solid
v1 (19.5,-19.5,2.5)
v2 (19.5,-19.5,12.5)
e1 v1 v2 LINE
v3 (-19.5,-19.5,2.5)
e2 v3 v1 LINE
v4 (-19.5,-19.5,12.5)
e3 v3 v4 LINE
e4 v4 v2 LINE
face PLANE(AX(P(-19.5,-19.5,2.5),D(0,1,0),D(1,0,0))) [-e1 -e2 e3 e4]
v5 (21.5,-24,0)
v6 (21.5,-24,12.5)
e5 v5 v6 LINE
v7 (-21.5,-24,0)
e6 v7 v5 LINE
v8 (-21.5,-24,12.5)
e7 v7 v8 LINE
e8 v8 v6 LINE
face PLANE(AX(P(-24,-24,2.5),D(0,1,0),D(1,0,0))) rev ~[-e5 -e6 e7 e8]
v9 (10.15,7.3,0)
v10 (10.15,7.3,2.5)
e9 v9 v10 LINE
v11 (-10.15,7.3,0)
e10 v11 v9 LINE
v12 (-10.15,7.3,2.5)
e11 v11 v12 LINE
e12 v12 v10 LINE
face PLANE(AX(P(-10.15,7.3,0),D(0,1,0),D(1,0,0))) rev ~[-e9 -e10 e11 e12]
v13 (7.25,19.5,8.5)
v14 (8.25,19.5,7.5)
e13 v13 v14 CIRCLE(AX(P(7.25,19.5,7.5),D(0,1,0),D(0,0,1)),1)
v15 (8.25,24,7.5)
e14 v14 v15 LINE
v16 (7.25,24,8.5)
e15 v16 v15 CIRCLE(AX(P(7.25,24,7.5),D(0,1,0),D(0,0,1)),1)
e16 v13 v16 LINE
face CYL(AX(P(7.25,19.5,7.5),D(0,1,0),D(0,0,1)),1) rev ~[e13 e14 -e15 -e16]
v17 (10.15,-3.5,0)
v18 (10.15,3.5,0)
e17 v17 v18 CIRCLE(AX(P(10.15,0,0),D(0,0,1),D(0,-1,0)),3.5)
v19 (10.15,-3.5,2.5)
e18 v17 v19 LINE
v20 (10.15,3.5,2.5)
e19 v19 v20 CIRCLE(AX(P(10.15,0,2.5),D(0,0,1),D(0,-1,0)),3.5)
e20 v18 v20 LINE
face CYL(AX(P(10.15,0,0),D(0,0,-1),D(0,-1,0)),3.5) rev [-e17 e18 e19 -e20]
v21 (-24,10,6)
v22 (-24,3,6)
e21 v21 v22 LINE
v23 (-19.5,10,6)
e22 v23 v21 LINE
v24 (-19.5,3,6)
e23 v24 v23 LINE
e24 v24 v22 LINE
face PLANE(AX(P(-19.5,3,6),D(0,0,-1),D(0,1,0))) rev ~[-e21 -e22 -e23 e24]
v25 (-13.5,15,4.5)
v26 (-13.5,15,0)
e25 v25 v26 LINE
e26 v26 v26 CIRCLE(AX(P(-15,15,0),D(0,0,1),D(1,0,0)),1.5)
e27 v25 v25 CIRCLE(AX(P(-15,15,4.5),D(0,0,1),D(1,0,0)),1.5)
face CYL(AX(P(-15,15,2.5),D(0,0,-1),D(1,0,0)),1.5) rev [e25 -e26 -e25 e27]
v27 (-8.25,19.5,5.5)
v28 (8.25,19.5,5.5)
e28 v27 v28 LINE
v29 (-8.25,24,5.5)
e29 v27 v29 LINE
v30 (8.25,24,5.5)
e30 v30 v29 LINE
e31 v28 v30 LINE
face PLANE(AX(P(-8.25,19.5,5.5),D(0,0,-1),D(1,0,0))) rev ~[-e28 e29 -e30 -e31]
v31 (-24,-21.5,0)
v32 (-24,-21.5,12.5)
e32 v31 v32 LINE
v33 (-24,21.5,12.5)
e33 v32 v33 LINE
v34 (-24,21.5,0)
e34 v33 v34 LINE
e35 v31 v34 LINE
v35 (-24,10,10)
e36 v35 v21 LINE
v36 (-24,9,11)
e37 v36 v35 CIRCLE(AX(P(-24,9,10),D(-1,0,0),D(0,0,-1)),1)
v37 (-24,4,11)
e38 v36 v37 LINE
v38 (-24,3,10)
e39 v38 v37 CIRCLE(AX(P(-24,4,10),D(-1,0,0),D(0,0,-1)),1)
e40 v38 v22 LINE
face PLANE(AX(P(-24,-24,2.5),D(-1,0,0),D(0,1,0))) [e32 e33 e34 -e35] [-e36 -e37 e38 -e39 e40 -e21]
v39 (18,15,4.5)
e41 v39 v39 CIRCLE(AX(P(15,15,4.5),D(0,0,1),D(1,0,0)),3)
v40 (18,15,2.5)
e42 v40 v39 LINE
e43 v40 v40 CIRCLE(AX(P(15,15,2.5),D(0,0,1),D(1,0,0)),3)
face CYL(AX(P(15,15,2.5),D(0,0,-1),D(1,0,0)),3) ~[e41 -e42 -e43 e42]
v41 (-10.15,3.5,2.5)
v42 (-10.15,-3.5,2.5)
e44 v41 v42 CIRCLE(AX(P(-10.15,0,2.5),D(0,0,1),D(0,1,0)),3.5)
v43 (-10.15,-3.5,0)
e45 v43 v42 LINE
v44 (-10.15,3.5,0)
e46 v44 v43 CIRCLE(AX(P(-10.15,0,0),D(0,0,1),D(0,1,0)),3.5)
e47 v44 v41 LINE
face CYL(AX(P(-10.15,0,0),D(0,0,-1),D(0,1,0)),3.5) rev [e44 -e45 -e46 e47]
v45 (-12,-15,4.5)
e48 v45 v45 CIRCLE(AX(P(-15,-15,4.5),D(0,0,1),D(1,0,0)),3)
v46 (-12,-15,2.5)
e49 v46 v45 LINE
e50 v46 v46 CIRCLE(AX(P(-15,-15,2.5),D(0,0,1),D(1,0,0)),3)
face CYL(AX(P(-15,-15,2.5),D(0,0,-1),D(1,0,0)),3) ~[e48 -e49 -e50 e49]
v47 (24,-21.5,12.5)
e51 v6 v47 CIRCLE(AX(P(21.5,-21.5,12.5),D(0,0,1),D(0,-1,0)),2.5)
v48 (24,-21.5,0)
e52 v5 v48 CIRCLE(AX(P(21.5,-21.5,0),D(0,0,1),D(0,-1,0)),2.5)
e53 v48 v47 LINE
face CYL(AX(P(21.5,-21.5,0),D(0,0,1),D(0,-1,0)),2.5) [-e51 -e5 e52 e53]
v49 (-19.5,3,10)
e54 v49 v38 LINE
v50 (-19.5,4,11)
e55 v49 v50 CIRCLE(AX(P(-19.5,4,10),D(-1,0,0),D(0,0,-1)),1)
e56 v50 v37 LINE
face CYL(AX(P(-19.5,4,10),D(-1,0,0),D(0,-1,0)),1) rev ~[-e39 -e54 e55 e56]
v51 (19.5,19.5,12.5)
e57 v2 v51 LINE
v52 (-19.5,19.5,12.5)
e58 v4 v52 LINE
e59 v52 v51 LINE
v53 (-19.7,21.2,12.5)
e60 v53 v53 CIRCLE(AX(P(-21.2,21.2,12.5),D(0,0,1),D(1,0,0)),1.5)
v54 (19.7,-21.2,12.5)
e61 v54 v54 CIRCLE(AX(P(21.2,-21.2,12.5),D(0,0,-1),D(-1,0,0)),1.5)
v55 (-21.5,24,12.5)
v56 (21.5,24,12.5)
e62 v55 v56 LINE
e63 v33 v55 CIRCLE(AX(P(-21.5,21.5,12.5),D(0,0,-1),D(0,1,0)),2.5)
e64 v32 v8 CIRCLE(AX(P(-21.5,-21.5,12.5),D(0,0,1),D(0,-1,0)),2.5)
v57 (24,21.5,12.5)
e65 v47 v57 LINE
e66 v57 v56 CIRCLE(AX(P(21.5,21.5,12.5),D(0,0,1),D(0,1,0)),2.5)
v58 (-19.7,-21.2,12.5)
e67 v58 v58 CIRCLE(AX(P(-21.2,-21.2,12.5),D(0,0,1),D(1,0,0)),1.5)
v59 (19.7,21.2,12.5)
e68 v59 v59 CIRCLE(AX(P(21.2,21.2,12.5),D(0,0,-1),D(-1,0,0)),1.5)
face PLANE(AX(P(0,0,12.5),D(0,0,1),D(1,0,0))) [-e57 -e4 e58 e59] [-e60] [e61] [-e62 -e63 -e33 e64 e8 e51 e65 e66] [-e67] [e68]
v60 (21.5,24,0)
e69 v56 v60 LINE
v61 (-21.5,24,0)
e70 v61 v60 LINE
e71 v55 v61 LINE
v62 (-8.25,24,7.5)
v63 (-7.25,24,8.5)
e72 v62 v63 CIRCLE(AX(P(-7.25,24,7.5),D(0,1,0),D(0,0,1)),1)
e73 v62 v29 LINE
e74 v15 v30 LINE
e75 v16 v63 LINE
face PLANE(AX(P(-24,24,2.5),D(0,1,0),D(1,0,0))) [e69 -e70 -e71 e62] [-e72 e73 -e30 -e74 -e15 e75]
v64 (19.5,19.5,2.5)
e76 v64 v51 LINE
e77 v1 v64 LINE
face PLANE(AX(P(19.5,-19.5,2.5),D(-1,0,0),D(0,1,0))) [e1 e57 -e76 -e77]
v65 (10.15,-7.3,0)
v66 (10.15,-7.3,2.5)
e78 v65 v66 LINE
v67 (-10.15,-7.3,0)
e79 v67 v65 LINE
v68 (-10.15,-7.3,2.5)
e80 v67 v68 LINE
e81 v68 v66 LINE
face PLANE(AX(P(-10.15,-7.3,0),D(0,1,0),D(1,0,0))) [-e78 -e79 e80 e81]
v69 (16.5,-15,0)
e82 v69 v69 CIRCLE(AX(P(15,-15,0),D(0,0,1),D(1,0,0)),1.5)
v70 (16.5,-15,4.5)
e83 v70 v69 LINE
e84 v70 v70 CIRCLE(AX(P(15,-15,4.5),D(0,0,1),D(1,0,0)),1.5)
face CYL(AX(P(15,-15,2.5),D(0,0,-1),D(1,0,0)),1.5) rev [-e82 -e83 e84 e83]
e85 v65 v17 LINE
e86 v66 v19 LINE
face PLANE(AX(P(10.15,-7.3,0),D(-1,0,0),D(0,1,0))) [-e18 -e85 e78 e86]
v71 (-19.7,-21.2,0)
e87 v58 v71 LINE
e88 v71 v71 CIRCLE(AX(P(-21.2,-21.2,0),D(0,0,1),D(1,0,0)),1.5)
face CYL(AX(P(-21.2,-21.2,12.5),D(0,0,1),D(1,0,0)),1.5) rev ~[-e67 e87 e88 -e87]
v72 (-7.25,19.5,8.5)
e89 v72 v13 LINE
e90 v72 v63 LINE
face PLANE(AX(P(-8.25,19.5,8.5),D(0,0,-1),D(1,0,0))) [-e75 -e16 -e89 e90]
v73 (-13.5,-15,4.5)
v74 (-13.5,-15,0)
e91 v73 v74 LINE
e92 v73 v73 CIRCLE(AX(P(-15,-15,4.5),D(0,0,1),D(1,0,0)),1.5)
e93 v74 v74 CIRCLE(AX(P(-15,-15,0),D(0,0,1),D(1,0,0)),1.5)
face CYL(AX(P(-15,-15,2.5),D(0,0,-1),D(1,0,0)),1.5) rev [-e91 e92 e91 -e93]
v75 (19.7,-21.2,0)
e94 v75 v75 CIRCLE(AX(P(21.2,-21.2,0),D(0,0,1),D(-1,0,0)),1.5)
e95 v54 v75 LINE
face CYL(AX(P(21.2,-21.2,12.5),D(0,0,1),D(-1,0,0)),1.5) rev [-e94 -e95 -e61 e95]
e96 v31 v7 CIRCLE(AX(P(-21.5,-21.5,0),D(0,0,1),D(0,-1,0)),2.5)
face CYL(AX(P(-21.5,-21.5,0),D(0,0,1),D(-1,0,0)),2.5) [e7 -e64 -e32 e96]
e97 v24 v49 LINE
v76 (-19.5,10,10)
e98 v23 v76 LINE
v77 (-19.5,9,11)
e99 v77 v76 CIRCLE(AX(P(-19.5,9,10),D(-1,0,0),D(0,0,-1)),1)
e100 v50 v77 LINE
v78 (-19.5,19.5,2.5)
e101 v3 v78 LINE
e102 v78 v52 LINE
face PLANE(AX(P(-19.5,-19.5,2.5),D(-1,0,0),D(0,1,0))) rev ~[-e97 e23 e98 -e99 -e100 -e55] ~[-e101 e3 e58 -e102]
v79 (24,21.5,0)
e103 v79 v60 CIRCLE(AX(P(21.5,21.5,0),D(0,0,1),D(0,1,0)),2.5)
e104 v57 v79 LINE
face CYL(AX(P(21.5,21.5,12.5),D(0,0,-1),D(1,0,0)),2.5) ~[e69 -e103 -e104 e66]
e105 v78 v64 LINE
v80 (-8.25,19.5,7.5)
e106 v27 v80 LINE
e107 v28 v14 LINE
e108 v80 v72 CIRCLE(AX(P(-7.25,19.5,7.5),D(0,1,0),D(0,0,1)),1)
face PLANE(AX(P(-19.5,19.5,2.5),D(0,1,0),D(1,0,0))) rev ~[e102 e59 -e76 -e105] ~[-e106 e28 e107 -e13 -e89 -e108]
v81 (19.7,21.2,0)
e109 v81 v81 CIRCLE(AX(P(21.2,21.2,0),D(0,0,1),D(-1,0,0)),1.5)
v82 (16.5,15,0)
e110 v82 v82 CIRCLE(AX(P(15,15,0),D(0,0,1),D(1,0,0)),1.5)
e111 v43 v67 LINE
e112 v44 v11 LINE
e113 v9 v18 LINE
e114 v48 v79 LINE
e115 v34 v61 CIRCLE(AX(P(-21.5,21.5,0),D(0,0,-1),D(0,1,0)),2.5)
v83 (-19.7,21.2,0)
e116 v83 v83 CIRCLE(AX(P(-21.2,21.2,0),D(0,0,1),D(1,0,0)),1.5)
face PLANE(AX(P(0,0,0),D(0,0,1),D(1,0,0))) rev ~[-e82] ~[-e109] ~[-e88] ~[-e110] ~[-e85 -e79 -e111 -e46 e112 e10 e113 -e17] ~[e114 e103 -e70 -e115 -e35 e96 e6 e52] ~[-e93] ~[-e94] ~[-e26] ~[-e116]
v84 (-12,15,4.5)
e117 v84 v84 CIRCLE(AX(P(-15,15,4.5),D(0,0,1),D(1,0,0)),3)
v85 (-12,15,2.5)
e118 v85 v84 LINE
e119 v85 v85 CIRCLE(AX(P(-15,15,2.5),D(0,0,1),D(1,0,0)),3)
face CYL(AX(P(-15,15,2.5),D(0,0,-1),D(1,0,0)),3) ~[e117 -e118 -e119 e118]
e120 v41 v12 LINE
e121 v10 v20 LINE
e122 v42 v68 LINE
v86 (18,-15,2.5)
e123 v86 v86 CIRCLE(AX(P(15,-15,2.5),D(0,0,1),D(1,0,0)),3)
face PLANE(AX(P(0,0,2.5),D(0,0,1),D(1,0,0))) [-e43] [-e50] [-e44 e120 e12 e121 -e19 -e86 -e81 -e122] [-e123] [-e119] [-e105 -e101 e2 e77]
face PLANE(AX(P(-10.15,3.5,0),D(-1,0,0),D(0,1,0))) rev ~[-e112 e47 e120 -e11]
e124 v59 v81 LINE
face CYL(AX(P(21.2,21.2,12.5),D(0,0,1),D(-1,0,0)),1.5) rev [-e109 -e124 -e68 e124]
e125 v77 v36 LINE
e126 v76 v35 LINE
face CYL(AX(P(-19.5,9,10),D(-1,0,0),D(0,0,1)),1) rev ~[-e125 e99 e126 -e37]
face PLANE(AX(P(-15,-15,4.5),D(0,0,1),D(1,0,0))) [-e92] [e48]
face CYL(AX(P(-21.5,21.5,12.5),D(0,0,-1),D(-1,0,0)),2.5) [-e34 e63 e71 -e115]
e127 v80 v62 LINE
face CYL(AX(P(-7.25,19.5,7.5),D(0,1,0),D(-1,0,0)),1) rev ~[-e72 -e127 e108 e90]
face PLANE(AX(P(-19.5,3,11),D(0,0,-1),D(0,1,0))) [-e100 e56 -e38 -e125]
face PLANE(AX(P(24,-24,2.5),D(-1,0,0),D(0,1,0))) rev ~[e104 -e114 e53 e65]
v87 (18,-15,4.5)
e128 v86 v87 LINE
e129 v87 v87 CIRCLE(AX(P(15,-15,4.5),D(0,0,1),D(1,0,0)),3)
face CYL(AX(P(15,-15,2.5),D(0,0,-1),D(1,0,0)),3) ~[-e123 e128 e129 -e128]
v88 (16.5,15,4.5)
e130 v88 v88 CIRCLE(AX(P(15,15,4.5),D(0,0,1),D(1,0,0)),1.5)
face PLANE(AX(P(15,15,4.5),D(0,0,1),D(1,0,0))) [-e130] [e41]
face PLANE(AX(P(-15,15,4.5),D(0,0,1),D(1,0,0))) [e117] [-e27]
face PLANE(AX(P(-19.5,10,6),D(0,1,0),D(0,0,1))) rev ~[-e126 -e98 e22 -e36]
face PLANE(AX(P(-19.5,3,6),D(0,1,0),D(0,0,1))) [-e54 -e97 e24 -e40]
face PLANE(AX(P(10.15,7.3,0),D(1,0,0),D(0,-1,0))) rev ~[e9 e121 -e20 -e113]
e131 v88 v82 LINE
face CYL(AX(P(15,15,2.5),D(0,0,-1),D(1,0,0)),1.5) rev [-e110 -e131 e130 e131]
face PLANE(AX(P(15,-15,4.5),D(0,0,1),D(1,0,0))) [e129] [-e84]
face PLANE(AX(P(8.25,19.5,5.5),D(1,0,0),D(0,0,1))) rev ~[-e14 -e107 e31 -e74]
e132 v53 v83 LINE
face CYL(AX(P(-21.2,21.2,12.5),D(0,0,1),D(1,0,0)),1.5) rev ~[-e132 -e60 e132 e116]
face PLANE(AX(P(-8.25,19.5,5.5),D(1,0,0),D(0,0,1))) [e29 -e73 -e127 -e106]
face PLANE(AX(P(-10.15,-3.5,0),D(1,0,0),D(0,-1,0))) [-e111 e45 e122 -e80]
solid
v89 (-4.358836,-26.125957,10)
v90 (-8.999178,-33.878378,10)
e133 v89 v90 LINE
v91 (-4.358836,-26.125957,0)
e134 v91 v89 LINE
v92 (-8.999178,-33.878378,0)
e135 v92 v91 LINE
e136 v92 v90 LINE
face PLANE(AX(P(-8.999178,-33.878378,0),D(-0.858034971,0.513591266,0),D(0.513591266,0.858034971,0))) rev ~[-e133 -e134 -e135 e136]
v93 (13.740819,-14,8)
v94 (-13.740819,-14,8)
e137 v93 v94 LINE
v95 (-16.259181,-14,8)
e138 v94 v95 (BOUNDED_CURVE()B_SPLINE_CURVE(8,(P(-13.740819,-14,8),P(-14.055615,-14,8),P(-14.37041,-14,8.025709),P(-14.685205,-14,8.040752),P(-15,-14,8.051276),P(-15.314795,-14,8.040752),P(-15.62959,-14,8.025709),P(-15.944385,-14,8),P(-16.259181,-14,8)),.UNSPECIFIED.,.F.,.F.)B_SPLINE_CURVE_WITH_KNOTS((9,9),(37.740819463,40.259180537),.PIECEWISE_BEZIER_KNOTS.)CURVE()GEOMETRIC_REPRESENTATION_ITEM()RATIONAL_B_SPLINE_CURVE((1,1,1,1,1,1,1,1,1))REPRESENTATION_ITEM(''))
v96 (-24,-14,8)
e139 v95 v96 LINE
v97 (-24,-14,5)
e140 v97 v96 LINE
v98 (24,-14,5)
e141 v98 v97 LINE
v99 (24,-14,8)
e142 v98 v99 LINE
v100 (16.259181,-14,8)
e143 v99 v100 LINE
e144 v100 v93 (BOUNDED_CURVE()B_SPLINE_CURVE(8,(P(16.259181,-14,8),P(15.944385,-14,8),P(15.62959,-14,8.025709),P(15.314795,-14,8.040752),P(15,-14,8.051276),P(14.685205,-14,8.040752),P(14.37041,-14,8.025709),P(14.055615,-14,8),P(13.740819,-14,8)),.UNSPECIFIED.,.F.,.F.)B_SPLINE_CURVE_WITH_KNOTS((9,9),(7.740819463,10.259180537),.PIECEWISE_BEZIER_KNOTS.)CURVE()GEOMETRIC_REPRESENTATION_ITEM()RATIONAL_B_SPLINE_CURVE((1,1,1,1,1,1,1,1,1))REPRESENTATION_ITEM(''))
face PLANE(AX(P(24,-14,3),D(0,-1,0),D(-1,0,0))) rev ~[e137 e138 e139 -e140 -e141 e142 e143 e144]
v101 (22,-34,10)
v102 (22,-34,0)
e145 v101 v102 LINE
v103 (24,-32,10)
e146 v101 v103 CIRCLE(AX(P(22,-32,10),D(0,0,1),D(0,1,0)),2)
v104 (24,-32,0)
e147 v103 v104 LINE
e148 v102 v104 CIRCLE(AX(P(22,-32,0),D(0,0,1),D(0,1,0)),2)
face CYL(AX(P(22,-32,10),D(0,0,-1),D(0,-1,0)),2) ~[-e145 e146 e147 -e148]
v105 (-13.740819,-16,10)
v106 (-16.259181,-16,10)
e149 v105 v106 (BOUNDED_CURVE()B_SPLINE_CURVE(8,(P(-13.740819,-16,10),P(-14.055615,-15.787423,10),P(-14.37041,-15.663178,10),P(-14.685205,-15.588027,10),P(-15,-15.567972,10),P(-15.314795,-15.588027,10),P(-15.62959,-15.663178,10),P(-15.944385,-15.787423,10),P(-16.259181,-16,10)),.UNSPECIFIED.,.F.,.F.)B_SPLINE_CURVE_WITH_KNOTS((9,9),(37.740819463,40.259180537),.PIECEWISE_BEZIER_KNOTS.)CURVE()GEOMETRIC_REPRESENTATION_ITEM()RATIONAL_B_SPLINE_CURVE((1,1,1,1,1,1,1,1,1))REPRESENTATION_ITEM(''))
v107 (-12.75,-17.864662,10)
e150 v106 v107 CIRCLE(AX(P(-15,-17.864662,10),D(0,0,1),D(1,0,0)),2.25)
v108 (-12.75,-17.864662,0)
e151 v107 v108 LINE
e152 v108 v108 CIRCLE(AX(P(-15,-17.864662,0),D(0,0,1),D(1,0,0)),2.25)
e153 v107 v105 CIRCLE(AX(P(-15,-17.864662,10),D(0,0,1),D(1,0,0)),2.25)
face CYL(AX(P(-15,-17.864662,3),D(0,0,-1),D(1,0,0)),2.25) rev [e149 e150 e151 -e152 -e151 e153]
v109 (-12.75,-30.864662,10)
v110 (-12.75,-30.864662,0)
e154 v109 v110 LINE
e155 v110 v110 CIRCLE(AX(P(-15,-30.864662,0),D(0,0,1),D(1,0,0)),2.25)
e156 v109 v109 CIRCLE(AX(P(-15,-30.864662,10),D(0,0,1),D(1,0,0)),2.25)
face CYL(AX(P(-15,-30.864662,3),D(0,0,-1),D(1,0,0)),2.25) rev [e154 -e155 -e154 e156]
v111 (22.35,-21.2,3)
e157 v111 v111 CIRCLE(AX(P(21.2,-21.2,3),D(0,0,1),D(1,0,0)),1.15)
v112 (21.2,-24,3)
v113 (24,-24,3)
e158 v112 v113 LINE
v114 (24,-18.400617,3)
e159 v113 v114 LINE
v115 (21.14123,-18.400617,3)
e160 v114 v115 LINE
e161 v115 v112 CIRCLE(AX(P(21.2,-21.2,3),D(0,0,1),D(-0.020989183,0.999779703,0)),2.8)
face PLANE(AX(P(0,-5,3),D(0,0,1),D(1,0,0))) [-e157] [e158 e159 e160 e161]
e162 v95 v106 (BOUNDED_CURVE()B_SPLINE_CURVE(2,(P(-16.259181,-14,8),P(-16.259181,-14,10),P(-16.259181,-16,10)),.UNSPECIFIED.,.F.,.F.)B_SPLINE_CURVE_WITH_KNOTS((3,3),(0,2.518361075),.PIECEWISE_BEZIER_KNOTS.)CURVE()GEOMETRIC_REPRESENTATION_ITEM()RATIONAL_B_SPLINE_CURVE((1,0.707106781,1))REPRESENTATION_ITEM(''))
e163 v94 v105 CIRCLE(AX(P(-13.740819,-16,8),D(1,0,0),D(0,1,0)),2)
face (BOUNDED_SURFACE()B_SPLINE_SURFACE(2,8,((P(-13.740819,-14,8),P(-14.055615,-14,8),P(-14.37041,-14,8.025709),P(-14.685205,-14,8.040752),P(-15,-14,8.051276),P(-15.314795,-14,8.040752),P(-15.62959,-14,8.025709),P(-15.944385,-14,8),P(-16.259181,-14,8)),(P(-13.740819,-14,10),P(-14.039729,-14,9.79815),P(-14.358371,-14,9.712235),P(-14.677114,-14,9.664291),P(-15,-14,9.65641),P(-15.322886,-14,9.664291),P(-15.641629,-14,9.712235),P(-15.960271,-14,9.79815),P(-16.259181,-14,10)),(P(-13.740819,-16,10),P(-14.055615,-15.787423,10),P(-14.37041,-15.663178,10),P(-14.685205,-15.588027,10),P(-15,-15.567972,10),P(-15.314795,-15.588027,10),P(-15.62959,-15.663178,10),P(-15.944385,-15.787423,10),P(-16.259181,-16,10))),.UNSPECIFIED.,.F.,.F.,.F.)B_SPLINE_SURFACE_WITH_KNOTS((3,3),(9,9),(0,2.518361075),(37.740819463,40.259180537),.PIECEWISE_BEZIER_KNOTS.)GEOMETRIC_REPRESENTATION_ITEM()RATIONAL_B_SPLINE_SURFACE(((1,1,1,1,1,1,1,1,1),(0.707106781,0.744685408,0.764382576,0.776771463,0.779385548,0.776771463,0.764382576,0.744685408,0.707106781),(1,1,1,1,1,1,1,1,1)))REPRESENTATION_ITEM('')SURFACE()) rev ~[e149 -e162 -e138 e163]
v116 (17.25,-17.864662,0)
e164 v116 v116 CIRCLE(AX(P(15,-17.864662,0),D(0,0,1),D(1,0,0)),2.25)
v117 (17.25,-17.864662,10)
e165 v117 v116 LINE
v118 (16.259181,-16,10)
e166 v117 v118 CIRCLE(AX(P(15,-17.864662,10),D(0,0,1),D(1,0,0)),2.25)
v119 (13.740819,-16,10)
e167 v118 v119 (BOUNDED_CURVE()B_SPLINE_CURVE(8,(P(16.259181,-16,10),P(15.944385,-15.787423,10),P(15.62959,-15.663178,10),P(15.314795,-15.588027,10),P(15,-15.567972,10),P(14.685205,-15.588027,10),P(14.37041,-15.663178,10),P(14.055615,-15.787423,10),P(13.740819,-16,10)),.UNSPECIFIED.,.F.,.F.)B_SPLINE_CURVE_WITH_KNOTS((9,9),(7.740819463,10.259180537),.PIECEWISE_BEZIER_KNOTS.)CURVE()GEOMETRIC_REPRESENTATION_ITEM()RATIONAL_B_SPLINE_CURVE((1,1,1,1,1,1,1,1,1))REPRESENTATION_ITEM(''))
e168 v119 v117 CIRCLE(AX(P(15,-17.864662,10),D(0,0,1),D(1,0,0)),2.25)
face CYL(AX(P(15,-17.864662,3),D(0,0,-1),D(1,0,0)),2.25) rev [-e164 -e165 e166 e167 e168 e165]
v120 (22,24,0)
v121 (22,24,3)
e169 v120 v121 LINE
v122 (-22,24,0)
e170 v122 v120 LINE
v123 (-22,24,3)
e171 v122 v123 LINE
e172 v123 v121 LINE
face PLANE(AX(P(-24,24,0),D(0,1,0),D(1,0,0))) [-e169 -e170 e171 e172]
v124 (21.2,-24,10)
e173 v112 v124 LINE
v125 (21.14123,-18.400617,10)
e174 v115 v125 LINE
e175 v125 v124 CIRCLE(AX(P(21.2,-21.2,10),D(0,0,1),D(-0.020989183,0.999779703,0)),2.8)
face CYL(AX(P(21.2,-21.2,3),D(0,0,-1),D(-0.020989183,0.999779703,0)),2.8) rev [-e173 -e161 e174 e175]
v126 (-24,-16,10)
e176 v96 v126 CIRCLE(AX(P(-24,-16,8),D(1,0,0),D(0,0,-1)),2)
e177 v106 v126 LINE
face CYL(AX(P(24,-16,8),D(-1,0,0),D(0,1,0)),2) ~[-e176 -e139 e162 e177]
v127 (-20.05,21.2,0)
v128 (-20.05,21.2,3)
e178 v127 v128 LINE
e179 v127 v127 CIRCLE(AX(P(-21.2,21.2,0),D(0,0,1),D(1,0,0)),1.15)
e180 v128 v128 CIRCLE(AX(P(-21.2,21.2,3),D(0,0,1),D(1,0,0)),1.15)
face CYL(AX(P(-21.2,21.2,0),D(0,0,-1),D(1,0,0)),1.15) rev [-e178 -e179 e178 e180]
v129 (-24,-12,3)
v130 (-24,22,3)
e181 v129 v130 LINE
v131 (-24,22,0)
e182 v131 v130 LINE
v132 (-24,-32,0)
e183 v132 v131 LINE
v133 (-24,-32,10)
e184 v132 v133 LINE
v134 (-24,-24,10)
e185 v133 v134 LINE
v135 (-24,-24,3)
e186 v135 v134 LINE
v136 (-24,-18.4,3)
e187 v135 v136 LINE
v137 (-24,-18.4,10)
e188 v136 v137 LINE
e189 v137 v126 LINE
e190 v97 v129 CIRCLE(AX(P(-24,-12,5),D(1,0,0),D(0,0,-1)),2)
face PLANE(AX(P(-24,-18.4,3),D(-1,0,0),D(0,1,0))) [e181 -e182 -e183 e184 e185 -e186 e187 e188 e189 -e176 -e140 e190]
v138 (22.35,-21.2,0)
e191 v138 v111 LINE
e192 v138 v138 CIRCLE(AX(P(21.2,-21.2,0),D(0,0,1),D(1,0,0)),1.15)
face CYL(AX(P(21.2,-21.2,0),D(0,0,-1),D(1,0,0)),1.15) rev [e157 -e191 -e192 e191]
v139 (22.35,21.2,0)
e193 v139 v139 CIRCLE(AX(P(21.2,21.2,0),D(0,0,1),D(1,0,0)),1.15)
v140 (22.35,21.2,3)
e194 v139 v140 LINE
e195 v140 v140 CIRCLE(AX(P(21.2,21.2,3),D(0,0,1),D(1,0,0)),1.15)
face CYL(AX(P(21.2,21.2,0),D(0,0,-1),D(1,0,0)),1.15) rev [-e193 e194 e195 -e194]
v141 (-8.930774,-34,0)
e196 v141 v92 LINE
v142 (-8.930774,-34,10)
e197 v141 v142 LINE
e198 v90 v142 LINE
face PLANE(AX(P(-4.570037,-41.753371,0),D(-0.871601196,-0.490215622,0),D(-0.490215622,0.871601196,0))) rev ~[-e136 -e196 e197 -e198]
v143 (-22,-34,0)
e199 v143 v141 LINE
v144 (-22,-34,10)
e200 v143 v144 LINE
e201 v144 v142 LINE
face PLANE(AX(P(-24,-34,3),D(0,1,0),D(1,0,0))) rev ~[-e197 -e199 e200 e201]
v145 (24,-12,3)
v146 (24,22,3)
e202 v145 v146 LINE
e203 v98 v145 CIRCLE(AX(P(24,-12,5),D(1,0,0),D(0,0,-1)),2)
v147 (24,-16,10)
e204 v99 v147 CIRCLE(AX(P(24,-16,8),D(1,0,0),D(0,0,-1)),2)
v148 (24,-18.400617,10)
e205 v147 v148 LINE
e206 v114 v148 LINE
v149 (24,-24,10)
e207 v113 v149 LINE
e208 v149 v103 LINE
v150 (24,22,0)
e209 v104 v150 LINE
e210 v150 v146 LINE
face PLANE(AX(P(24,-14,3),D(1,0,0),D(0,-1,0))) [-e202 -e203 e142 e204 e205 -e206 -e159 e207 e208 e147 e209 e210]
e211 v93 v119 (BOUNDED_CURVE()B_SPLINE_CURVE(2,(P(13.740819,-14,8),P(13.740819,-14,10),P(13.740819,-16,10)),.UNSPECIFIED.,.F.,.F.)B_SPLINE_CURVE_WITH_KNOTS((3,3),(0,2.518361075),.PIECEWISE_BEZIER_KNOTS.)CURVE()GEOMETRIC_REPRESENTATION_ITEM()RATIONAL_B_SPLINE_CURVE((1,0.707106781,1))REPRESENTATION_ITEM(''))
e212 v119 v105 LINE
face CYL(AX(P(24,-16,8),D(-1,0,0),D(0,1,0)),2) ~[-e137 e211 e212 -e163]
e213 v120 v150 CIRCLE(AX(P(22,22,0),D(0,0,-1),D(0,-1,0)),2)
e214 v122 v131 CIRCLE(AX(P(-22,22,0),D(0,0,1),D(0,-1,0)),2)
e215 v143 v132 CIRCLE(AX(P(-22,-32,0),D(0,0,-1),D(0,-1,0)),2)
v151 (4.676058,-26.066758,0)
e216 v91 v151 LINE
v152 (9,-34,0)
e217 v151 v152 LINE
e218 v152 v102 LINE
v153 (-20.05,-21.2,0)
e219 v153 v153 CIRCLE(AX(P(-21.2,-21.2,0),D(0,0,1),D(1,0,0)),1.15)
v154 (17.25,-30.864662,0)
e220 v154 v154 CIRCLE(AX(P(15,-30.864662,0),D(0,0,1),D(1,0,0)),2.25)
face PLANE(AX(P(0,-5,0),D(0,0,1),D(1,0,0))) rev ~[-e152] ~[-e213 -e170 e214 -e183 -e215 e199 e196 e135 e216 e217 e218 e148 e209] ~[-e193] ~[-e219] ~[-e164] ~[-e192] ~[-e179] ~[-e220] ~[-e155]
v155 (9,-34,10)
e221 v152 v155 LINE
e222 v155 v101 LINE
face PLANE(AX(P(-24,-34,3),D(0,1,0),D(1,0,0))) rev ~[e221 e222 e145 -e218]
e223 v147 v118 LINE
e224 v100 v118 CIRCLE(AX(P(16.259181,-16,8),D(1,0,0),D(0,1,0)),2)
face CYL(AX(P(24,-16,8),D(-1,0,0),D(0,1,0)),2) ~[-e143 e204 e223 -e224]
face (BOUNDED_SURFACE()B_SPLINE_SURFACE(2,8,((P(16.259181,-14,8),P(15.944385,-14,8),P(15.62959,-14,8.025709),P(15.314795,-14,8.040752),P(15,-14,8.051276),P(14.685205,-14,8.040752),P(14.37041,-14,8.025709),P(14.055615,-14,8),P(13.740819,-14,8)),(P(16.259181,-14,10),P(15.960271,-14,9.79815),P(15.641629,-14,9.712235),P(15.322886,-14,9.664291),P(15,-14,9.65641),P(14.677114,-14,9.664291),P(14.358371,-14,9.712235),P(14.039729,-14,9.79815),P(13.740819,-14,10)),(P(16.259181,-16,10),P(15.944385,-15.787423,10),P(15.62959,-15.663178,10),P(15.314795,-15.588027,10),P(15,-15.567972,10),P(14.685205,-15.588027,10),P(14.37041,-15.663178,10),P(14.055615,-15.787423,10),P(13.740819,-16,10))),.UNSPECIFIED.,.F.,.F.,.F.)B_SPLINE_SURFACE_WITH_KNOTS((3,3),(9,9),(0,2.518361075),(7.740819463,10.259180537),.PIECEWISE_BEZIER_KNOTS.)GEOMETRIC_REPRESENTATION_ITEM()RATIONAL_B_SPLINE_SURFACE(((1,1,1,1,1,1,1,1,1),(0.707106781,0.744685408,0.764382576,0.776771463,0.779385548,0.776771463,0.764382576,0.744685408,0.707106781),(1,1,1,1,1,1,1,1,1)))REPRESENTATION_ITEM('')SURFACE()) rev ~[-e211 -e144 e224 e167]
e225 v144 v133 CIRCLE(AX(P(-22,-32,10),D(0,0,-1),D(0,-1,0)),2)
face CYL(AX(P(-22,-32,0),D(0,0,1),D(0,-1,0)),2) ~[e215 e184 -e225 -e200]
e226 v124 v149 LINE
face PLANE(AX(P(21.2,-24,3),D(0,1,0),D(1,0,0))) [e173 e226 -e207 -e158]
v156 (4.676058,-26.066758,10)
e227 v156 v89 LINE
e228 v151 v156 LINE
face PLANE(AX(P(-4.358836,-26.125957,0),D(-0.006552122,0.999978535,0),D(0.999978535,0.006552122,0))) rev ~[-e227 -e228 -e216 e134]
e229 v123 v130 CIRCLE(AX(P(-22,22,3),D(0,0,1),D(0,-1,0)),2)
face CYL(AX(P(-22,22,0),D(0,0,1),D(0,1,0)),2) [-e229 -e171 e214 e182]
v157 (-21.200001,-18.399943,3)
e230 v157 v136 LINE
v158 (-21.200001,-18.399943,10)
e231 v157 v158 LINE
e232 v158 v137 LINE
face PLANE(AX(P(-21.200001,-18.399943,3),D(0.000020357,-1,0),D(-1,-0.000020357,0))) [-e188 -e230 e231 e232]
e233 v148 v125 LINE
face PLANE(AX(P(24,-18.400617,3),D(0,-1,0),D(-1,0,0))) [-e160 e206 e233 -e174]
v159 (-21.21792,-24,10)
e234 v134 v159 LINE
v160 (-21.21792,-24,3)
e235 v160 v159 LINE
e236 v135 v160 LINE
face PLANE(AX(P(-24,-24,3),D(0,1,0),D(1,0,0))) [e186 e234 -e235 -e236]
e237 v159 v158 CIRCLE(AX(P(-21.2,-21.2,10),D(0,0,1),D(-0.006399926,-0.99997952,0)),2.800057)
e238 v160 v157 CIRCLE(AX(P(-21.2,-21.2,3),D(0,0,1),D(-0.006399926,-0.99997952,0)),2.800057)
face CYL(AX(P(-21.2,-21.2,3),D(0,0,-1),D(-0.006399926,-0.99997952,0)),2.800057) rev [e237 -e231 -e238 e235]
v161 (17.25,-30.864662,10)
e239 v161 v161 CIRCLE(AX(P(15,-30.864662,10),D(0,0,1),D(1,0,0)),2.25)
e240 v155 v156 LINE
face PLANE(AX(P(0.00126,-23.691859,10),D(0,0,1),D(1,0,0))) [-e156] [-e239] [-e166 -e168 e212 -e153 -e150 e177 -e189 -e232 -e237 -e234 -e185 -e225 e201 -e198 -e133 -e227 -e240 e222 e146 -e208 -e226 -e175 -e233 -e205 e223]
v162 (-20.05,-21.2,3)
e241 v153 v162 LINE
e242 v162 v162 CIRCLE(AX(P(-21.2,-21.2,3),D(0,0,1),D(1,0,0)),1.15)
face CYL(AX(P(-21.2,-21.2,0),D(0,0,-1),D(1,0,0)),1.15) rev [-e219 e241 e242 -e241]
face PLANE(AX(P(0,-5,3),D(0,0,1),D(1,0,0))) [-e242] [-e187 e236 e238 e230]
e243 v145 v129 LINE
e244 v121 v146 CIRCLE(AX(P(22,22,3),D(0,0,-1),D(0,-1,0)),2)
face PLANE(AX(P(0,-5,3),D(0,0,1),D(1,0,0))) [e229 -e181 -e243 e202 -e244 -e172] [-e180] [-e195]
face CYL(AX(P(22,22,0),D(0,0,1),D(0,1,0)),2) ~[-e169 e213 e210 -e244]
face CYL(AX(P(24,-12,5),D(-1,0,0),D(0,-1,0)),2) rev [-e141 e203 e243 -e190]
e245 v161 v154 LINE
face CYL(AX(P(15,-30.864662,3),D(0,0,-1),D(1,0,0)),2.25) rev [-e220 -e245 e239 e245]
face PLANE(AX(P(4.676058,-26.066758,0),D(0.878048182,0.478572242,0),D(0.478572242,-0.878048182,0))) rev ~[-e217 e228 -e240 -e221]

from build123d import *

# Parameters (mm, degrees)
SKETCH_W        = 48
SKETCH_H        = 48
SKETCH_R        = 1.5
PAD_DEPTH       = 2.5
SKETCH001_W     = 48
SKETCH001_H     = 48
SKETCH001_W_2   = 39
SKETCH001_H_2   = 39
PAD001_DEPTH    = 10
FILLET_R        = 2.5
SKETCH002_R     = 3
SKETCH002_R_2   = 1.5
PAD002_DEPTH    = 2
SKETCH003_W     = 16.5
SKETCH003_H     = 3
POCKET_DEPTH    = 5
SKETCH004_W     = 7
SKETCH004_H     = 5
POCKET001_DEPTH = 5
FILLET001_R     = 1
SKETCH005_R     = 1.5
POCKET002_DEPTH = 150.548094
SKETCH006_W     = 48
SKETCH006_H     = 58
SKETCH006_R     = 1.15
SKETCH006_R_2   = 2.25
PAD003_DEPTH    = 3
SKETCH007_R     = 2.25
PAD004_DEPTH    = 7
FILLET002_R     = 2
POCKET003_DEPTH = 10.001


with BuildPart() as box:
    # Sketch → Pad (new body)
    with BuildSketch(Plane.XY):
        Rectangle(SKETCH_W, SKETCH_H)
        with Locations((-15, 15)):
            Circle(SKETCH_R, mode=Mode.SUBTRACT)
        with Locations((15, 15)):
            Circle(SKETCH_R, mode=Mode.SUBTRACT)
        with Locations((15, -15)):
            Circle(SKETCH_R, mode=Mode.SUBTRACT)
        with Locations((-15, -15)):
            Circle(SKETCH_R, mode=Mode.SUBTRACT)
        with BuildLine():
            ThreePointArc((-10.15, 3.5), (-13.65, 0), (-10.15, -3.5))
            Line((-10.15, -3.5), (-10.15, -7.3))
            Line((-10.15, -7.3), (10.15, -7.3))
            Line((10.15, -7.3), (10.15, -3.5))
            ThreePointArc((10.15, -3.5), (13.65, 0), (10.15, 3.5))
            Line((10.15, 7.3), (10.15, 3.5))
            Line((-10.15, 7.3), (10.15, 7.3))
            Line((-10.15, 3.5), (-10.15, 7.3))
        make_face(mode=Mode.SUBTRACT)
    extrude(amount=PAD_DEPTH)

    # Sketch001 (on Face18 of Pad) → Pad001 (join)
    with BuildSketch(Plane.XY.offset(2.5)):
        Rectangle(SKETCH001_W, SKETCH001_H)
        Rectangle(SKETCH001_W_2, SKETCH001_H_2, mode=Mode.SUBTRACT)
    extrude(amount=PAD001_DEPTH)

    # Fillet
    fillet_edges = [box.edges().sort_by_distance(p)[0] for p in [
        (24, -24, 6.25),
        (-24, -24, 6.25),
        (24, 24, 6.25),
        (-24, 24, 6.25),
    ]]
    fillet(fillet_edges, radius=FILLET_R)

    # Sketch002 (on Face23 of Fillet) → Pad002 (join)
    with BuildSketch(Plane.XY.offset(2.5)):
        with Locations((15, 15)):
            Circle(SKETCH002_R)
        with Locations((15, 15)):
            Circle(SKETCH002_R_2, mode=Mode.SUBTRACT)
        with Locations((-15, 15)):
            Circle(SKETCH002_R)
        with Locations((-15, 15)):
            Circle(SKETCH002_R_2, mode=Mode.SUBTRACT)
        with Locations((15, -15)):
            Circle(SKETCH002_R)
        with Locations((15, -15)):
            Circle(SKETCH002_R_2, mode=Mode.SUBTRACT)
        with Locations((-15, -15)):
            Circle(SKETCH002_R)
        with Locations((-15, -15)):
            Circle(SKETCH002_R_2, mode=Mode.SUBTRACT)
    extrude(amount=PAD002_DEPTH)

    # Sketch003 (on Face22 of Pad002) → Pocket (cut)
    with BuildSketch(Plane.XZ.offset(-19.5)):
        with Locations((0, 7)):
            Rectangle(SKETCH003_W, SKETCH003_H)
    extrude(amount=-POCKET_DEPTH, mode=Mode.SUBTRACT)

    # Sketch004 (on Face35 of Pocket) → Pocket001 (cut)
    with BuildSketch(Plane.YZ.offset(-19.5)):
        with Locations((6.5, 8.5)):
            Rectangle(SKETCH004_W, SKETCH004_H)
    extrude(amount=-POCKET001_DEPTH, mode=Mode.SUBTRACT)

    # Fillet001
    fillet001_edges = [box.edges().sort_by_distance(p)[0] for p in [
        (-21.75, 3, 11),
        (-21.75, 10, 11),
        (-8.25, 21.75, 8.5),
        (8.25, 21.75, 8.5),
    ]]
    fillet(fillet001_edges, radius=FILLET001_R)

    # Sketch005 (on Face11 of Fillet001) → Pocket002 (cut, through all)
    with BuildSketch(Plane.XY.offset(12.5)):
        with Locations((-21.2, 21.2)):
            Circle(SKETCH005_R)
        with Locations((-21.2, -21.2)):
            Circle(SKETCH005_R)
    pocket002 = extrude(amount=-POCKET002_DEPTH, mode=Mode.SUBTRACT)

    # Mirrored: Pocket002 across Sketch005 V_Axis
    add(pocket002.mirror(Plane(origin=(0, 0, 12.5), x_dir=(0, 0, 1), z_dir=(1, 0, 0))), mode=Mode.SUBTRACT)


with BuildPart() as lid:
    # Sketch006 → Pad003 (new body)
    with BuildSketch(Plane.XY):
        with Locations((0, -5)):
            Rectangle(SKETCH006_W, SKETCH006_H)
        with Locations((-21.2, 21.2)):
            Circle(SKETCH006_R, mode=Mode.SUBTRACT)
        with Locations((21.2, 21.2)):
            Circle(SKETCH006_R, mode=Mode.SUBTRACT)
        with Locations((-21.2, -21.2)):
            Circle(SKETCH006_R, mode=Mode.SUBTRACT)
        with Locations((21.2, -21.2)):
            Circle(SKETCH006_R, mode=Mode.SUBTRACT)
        with Locations((-15, -17.864662)):
            Circle(SKETCH006_R_2, mode=Mode.SUBTRACT)
        with Locations((-15, -30.864662)):
            Circle(SKETCH006_R_2, mode=Mode.SUBTRACT)
        with Locations((15, -17.864662)):
            Circle(SKETCH006_R_2, mode=Mode.SUBTRACT)
        with Locations((15, -30.864662)):
            Circle(SKETCH006_R_2, mode=Mode.SUBTRACT)
    extrude(amount=PAD003_DEPTH)

    # Sketch007 (on Face14 of Pad003) → Pad004 (join)
    with BuildSketch(Plane.XY.offset(3)):
        with BuildLine():
            Line((24, -14), (-24, -14))
            Line((-24, -18.4), (-24, -14))
            Line((-21.200001, -18.399943), (-24, -18.4))
            ThreePointArc((-21.21792, -24), (-18.399957, -21.208959), (-21.200001, -18.399943))
            Line((-24, -24), (-21.21792, -24))
            Line((-24, -34), (-24, -24))
            Line((-24, -34), (24, -34))
            Line((24, -24), (24, -34))
            Line((21.2, -24), (24, -24))
            ThreePointArc((21.14123, -18.400617), (18.400154, -21.229386), (21.2, -24))
            Line((24, -18.400617), (21.14123, -18.400617))
            Line((24, -14), (24, -18.400617))
        make_face()
        with Locations((-15, -17.864662)):
            Circle(SKETCH007_R, mode=Mode.SUBTRACT)
        with Locations((-15, -30.864662)):
            Circle(SKETCH007_R, mode=Mode.SUBTRACT)
        with Locations((15, -30.864662)):
            Circle(SKETCH007_R, mode=Mode.SUBTRACT)
        with Locations((15, -17.864662)):
            Circle(SKETCH007_R, mode=Mode.SUBTRACT)
    extrude(amount=PAD004_DEPTH)

    # Fillet002
    fillet002_edges = [lid.edges().sort_by_distance(p)[0] for p in [
        (0, -14, 3),
        (0, -14, 10),
        (24, 24, 1.5),
        (-24, 24, 1.5),
        (-24, -34, 5),
        (24, -34, 5),
    ]]
    fillet(fillet002_edges, radius=FILLET002_R)

    # Sketch008 (on Face2 of Fillet002) → Pocket003 (cut, through all)
    with BuildSketch(Plane(origin=(0, 0, 0), x_dir=(1, 0, 0), z_dir=(0, 0, -1))):
        Polygon((4.464844, 41.81442), (-4.570037, 41.753371), (-8.999178, 33.878378), (-4.358836, 26.125957), (4.676058, 26.066758), (9, 34), align=None)
    extrude(amount=-POCKET003_DEPTH, mode=Mode.SUBTRACT)


solid = Compound([box.part, lid.part])
